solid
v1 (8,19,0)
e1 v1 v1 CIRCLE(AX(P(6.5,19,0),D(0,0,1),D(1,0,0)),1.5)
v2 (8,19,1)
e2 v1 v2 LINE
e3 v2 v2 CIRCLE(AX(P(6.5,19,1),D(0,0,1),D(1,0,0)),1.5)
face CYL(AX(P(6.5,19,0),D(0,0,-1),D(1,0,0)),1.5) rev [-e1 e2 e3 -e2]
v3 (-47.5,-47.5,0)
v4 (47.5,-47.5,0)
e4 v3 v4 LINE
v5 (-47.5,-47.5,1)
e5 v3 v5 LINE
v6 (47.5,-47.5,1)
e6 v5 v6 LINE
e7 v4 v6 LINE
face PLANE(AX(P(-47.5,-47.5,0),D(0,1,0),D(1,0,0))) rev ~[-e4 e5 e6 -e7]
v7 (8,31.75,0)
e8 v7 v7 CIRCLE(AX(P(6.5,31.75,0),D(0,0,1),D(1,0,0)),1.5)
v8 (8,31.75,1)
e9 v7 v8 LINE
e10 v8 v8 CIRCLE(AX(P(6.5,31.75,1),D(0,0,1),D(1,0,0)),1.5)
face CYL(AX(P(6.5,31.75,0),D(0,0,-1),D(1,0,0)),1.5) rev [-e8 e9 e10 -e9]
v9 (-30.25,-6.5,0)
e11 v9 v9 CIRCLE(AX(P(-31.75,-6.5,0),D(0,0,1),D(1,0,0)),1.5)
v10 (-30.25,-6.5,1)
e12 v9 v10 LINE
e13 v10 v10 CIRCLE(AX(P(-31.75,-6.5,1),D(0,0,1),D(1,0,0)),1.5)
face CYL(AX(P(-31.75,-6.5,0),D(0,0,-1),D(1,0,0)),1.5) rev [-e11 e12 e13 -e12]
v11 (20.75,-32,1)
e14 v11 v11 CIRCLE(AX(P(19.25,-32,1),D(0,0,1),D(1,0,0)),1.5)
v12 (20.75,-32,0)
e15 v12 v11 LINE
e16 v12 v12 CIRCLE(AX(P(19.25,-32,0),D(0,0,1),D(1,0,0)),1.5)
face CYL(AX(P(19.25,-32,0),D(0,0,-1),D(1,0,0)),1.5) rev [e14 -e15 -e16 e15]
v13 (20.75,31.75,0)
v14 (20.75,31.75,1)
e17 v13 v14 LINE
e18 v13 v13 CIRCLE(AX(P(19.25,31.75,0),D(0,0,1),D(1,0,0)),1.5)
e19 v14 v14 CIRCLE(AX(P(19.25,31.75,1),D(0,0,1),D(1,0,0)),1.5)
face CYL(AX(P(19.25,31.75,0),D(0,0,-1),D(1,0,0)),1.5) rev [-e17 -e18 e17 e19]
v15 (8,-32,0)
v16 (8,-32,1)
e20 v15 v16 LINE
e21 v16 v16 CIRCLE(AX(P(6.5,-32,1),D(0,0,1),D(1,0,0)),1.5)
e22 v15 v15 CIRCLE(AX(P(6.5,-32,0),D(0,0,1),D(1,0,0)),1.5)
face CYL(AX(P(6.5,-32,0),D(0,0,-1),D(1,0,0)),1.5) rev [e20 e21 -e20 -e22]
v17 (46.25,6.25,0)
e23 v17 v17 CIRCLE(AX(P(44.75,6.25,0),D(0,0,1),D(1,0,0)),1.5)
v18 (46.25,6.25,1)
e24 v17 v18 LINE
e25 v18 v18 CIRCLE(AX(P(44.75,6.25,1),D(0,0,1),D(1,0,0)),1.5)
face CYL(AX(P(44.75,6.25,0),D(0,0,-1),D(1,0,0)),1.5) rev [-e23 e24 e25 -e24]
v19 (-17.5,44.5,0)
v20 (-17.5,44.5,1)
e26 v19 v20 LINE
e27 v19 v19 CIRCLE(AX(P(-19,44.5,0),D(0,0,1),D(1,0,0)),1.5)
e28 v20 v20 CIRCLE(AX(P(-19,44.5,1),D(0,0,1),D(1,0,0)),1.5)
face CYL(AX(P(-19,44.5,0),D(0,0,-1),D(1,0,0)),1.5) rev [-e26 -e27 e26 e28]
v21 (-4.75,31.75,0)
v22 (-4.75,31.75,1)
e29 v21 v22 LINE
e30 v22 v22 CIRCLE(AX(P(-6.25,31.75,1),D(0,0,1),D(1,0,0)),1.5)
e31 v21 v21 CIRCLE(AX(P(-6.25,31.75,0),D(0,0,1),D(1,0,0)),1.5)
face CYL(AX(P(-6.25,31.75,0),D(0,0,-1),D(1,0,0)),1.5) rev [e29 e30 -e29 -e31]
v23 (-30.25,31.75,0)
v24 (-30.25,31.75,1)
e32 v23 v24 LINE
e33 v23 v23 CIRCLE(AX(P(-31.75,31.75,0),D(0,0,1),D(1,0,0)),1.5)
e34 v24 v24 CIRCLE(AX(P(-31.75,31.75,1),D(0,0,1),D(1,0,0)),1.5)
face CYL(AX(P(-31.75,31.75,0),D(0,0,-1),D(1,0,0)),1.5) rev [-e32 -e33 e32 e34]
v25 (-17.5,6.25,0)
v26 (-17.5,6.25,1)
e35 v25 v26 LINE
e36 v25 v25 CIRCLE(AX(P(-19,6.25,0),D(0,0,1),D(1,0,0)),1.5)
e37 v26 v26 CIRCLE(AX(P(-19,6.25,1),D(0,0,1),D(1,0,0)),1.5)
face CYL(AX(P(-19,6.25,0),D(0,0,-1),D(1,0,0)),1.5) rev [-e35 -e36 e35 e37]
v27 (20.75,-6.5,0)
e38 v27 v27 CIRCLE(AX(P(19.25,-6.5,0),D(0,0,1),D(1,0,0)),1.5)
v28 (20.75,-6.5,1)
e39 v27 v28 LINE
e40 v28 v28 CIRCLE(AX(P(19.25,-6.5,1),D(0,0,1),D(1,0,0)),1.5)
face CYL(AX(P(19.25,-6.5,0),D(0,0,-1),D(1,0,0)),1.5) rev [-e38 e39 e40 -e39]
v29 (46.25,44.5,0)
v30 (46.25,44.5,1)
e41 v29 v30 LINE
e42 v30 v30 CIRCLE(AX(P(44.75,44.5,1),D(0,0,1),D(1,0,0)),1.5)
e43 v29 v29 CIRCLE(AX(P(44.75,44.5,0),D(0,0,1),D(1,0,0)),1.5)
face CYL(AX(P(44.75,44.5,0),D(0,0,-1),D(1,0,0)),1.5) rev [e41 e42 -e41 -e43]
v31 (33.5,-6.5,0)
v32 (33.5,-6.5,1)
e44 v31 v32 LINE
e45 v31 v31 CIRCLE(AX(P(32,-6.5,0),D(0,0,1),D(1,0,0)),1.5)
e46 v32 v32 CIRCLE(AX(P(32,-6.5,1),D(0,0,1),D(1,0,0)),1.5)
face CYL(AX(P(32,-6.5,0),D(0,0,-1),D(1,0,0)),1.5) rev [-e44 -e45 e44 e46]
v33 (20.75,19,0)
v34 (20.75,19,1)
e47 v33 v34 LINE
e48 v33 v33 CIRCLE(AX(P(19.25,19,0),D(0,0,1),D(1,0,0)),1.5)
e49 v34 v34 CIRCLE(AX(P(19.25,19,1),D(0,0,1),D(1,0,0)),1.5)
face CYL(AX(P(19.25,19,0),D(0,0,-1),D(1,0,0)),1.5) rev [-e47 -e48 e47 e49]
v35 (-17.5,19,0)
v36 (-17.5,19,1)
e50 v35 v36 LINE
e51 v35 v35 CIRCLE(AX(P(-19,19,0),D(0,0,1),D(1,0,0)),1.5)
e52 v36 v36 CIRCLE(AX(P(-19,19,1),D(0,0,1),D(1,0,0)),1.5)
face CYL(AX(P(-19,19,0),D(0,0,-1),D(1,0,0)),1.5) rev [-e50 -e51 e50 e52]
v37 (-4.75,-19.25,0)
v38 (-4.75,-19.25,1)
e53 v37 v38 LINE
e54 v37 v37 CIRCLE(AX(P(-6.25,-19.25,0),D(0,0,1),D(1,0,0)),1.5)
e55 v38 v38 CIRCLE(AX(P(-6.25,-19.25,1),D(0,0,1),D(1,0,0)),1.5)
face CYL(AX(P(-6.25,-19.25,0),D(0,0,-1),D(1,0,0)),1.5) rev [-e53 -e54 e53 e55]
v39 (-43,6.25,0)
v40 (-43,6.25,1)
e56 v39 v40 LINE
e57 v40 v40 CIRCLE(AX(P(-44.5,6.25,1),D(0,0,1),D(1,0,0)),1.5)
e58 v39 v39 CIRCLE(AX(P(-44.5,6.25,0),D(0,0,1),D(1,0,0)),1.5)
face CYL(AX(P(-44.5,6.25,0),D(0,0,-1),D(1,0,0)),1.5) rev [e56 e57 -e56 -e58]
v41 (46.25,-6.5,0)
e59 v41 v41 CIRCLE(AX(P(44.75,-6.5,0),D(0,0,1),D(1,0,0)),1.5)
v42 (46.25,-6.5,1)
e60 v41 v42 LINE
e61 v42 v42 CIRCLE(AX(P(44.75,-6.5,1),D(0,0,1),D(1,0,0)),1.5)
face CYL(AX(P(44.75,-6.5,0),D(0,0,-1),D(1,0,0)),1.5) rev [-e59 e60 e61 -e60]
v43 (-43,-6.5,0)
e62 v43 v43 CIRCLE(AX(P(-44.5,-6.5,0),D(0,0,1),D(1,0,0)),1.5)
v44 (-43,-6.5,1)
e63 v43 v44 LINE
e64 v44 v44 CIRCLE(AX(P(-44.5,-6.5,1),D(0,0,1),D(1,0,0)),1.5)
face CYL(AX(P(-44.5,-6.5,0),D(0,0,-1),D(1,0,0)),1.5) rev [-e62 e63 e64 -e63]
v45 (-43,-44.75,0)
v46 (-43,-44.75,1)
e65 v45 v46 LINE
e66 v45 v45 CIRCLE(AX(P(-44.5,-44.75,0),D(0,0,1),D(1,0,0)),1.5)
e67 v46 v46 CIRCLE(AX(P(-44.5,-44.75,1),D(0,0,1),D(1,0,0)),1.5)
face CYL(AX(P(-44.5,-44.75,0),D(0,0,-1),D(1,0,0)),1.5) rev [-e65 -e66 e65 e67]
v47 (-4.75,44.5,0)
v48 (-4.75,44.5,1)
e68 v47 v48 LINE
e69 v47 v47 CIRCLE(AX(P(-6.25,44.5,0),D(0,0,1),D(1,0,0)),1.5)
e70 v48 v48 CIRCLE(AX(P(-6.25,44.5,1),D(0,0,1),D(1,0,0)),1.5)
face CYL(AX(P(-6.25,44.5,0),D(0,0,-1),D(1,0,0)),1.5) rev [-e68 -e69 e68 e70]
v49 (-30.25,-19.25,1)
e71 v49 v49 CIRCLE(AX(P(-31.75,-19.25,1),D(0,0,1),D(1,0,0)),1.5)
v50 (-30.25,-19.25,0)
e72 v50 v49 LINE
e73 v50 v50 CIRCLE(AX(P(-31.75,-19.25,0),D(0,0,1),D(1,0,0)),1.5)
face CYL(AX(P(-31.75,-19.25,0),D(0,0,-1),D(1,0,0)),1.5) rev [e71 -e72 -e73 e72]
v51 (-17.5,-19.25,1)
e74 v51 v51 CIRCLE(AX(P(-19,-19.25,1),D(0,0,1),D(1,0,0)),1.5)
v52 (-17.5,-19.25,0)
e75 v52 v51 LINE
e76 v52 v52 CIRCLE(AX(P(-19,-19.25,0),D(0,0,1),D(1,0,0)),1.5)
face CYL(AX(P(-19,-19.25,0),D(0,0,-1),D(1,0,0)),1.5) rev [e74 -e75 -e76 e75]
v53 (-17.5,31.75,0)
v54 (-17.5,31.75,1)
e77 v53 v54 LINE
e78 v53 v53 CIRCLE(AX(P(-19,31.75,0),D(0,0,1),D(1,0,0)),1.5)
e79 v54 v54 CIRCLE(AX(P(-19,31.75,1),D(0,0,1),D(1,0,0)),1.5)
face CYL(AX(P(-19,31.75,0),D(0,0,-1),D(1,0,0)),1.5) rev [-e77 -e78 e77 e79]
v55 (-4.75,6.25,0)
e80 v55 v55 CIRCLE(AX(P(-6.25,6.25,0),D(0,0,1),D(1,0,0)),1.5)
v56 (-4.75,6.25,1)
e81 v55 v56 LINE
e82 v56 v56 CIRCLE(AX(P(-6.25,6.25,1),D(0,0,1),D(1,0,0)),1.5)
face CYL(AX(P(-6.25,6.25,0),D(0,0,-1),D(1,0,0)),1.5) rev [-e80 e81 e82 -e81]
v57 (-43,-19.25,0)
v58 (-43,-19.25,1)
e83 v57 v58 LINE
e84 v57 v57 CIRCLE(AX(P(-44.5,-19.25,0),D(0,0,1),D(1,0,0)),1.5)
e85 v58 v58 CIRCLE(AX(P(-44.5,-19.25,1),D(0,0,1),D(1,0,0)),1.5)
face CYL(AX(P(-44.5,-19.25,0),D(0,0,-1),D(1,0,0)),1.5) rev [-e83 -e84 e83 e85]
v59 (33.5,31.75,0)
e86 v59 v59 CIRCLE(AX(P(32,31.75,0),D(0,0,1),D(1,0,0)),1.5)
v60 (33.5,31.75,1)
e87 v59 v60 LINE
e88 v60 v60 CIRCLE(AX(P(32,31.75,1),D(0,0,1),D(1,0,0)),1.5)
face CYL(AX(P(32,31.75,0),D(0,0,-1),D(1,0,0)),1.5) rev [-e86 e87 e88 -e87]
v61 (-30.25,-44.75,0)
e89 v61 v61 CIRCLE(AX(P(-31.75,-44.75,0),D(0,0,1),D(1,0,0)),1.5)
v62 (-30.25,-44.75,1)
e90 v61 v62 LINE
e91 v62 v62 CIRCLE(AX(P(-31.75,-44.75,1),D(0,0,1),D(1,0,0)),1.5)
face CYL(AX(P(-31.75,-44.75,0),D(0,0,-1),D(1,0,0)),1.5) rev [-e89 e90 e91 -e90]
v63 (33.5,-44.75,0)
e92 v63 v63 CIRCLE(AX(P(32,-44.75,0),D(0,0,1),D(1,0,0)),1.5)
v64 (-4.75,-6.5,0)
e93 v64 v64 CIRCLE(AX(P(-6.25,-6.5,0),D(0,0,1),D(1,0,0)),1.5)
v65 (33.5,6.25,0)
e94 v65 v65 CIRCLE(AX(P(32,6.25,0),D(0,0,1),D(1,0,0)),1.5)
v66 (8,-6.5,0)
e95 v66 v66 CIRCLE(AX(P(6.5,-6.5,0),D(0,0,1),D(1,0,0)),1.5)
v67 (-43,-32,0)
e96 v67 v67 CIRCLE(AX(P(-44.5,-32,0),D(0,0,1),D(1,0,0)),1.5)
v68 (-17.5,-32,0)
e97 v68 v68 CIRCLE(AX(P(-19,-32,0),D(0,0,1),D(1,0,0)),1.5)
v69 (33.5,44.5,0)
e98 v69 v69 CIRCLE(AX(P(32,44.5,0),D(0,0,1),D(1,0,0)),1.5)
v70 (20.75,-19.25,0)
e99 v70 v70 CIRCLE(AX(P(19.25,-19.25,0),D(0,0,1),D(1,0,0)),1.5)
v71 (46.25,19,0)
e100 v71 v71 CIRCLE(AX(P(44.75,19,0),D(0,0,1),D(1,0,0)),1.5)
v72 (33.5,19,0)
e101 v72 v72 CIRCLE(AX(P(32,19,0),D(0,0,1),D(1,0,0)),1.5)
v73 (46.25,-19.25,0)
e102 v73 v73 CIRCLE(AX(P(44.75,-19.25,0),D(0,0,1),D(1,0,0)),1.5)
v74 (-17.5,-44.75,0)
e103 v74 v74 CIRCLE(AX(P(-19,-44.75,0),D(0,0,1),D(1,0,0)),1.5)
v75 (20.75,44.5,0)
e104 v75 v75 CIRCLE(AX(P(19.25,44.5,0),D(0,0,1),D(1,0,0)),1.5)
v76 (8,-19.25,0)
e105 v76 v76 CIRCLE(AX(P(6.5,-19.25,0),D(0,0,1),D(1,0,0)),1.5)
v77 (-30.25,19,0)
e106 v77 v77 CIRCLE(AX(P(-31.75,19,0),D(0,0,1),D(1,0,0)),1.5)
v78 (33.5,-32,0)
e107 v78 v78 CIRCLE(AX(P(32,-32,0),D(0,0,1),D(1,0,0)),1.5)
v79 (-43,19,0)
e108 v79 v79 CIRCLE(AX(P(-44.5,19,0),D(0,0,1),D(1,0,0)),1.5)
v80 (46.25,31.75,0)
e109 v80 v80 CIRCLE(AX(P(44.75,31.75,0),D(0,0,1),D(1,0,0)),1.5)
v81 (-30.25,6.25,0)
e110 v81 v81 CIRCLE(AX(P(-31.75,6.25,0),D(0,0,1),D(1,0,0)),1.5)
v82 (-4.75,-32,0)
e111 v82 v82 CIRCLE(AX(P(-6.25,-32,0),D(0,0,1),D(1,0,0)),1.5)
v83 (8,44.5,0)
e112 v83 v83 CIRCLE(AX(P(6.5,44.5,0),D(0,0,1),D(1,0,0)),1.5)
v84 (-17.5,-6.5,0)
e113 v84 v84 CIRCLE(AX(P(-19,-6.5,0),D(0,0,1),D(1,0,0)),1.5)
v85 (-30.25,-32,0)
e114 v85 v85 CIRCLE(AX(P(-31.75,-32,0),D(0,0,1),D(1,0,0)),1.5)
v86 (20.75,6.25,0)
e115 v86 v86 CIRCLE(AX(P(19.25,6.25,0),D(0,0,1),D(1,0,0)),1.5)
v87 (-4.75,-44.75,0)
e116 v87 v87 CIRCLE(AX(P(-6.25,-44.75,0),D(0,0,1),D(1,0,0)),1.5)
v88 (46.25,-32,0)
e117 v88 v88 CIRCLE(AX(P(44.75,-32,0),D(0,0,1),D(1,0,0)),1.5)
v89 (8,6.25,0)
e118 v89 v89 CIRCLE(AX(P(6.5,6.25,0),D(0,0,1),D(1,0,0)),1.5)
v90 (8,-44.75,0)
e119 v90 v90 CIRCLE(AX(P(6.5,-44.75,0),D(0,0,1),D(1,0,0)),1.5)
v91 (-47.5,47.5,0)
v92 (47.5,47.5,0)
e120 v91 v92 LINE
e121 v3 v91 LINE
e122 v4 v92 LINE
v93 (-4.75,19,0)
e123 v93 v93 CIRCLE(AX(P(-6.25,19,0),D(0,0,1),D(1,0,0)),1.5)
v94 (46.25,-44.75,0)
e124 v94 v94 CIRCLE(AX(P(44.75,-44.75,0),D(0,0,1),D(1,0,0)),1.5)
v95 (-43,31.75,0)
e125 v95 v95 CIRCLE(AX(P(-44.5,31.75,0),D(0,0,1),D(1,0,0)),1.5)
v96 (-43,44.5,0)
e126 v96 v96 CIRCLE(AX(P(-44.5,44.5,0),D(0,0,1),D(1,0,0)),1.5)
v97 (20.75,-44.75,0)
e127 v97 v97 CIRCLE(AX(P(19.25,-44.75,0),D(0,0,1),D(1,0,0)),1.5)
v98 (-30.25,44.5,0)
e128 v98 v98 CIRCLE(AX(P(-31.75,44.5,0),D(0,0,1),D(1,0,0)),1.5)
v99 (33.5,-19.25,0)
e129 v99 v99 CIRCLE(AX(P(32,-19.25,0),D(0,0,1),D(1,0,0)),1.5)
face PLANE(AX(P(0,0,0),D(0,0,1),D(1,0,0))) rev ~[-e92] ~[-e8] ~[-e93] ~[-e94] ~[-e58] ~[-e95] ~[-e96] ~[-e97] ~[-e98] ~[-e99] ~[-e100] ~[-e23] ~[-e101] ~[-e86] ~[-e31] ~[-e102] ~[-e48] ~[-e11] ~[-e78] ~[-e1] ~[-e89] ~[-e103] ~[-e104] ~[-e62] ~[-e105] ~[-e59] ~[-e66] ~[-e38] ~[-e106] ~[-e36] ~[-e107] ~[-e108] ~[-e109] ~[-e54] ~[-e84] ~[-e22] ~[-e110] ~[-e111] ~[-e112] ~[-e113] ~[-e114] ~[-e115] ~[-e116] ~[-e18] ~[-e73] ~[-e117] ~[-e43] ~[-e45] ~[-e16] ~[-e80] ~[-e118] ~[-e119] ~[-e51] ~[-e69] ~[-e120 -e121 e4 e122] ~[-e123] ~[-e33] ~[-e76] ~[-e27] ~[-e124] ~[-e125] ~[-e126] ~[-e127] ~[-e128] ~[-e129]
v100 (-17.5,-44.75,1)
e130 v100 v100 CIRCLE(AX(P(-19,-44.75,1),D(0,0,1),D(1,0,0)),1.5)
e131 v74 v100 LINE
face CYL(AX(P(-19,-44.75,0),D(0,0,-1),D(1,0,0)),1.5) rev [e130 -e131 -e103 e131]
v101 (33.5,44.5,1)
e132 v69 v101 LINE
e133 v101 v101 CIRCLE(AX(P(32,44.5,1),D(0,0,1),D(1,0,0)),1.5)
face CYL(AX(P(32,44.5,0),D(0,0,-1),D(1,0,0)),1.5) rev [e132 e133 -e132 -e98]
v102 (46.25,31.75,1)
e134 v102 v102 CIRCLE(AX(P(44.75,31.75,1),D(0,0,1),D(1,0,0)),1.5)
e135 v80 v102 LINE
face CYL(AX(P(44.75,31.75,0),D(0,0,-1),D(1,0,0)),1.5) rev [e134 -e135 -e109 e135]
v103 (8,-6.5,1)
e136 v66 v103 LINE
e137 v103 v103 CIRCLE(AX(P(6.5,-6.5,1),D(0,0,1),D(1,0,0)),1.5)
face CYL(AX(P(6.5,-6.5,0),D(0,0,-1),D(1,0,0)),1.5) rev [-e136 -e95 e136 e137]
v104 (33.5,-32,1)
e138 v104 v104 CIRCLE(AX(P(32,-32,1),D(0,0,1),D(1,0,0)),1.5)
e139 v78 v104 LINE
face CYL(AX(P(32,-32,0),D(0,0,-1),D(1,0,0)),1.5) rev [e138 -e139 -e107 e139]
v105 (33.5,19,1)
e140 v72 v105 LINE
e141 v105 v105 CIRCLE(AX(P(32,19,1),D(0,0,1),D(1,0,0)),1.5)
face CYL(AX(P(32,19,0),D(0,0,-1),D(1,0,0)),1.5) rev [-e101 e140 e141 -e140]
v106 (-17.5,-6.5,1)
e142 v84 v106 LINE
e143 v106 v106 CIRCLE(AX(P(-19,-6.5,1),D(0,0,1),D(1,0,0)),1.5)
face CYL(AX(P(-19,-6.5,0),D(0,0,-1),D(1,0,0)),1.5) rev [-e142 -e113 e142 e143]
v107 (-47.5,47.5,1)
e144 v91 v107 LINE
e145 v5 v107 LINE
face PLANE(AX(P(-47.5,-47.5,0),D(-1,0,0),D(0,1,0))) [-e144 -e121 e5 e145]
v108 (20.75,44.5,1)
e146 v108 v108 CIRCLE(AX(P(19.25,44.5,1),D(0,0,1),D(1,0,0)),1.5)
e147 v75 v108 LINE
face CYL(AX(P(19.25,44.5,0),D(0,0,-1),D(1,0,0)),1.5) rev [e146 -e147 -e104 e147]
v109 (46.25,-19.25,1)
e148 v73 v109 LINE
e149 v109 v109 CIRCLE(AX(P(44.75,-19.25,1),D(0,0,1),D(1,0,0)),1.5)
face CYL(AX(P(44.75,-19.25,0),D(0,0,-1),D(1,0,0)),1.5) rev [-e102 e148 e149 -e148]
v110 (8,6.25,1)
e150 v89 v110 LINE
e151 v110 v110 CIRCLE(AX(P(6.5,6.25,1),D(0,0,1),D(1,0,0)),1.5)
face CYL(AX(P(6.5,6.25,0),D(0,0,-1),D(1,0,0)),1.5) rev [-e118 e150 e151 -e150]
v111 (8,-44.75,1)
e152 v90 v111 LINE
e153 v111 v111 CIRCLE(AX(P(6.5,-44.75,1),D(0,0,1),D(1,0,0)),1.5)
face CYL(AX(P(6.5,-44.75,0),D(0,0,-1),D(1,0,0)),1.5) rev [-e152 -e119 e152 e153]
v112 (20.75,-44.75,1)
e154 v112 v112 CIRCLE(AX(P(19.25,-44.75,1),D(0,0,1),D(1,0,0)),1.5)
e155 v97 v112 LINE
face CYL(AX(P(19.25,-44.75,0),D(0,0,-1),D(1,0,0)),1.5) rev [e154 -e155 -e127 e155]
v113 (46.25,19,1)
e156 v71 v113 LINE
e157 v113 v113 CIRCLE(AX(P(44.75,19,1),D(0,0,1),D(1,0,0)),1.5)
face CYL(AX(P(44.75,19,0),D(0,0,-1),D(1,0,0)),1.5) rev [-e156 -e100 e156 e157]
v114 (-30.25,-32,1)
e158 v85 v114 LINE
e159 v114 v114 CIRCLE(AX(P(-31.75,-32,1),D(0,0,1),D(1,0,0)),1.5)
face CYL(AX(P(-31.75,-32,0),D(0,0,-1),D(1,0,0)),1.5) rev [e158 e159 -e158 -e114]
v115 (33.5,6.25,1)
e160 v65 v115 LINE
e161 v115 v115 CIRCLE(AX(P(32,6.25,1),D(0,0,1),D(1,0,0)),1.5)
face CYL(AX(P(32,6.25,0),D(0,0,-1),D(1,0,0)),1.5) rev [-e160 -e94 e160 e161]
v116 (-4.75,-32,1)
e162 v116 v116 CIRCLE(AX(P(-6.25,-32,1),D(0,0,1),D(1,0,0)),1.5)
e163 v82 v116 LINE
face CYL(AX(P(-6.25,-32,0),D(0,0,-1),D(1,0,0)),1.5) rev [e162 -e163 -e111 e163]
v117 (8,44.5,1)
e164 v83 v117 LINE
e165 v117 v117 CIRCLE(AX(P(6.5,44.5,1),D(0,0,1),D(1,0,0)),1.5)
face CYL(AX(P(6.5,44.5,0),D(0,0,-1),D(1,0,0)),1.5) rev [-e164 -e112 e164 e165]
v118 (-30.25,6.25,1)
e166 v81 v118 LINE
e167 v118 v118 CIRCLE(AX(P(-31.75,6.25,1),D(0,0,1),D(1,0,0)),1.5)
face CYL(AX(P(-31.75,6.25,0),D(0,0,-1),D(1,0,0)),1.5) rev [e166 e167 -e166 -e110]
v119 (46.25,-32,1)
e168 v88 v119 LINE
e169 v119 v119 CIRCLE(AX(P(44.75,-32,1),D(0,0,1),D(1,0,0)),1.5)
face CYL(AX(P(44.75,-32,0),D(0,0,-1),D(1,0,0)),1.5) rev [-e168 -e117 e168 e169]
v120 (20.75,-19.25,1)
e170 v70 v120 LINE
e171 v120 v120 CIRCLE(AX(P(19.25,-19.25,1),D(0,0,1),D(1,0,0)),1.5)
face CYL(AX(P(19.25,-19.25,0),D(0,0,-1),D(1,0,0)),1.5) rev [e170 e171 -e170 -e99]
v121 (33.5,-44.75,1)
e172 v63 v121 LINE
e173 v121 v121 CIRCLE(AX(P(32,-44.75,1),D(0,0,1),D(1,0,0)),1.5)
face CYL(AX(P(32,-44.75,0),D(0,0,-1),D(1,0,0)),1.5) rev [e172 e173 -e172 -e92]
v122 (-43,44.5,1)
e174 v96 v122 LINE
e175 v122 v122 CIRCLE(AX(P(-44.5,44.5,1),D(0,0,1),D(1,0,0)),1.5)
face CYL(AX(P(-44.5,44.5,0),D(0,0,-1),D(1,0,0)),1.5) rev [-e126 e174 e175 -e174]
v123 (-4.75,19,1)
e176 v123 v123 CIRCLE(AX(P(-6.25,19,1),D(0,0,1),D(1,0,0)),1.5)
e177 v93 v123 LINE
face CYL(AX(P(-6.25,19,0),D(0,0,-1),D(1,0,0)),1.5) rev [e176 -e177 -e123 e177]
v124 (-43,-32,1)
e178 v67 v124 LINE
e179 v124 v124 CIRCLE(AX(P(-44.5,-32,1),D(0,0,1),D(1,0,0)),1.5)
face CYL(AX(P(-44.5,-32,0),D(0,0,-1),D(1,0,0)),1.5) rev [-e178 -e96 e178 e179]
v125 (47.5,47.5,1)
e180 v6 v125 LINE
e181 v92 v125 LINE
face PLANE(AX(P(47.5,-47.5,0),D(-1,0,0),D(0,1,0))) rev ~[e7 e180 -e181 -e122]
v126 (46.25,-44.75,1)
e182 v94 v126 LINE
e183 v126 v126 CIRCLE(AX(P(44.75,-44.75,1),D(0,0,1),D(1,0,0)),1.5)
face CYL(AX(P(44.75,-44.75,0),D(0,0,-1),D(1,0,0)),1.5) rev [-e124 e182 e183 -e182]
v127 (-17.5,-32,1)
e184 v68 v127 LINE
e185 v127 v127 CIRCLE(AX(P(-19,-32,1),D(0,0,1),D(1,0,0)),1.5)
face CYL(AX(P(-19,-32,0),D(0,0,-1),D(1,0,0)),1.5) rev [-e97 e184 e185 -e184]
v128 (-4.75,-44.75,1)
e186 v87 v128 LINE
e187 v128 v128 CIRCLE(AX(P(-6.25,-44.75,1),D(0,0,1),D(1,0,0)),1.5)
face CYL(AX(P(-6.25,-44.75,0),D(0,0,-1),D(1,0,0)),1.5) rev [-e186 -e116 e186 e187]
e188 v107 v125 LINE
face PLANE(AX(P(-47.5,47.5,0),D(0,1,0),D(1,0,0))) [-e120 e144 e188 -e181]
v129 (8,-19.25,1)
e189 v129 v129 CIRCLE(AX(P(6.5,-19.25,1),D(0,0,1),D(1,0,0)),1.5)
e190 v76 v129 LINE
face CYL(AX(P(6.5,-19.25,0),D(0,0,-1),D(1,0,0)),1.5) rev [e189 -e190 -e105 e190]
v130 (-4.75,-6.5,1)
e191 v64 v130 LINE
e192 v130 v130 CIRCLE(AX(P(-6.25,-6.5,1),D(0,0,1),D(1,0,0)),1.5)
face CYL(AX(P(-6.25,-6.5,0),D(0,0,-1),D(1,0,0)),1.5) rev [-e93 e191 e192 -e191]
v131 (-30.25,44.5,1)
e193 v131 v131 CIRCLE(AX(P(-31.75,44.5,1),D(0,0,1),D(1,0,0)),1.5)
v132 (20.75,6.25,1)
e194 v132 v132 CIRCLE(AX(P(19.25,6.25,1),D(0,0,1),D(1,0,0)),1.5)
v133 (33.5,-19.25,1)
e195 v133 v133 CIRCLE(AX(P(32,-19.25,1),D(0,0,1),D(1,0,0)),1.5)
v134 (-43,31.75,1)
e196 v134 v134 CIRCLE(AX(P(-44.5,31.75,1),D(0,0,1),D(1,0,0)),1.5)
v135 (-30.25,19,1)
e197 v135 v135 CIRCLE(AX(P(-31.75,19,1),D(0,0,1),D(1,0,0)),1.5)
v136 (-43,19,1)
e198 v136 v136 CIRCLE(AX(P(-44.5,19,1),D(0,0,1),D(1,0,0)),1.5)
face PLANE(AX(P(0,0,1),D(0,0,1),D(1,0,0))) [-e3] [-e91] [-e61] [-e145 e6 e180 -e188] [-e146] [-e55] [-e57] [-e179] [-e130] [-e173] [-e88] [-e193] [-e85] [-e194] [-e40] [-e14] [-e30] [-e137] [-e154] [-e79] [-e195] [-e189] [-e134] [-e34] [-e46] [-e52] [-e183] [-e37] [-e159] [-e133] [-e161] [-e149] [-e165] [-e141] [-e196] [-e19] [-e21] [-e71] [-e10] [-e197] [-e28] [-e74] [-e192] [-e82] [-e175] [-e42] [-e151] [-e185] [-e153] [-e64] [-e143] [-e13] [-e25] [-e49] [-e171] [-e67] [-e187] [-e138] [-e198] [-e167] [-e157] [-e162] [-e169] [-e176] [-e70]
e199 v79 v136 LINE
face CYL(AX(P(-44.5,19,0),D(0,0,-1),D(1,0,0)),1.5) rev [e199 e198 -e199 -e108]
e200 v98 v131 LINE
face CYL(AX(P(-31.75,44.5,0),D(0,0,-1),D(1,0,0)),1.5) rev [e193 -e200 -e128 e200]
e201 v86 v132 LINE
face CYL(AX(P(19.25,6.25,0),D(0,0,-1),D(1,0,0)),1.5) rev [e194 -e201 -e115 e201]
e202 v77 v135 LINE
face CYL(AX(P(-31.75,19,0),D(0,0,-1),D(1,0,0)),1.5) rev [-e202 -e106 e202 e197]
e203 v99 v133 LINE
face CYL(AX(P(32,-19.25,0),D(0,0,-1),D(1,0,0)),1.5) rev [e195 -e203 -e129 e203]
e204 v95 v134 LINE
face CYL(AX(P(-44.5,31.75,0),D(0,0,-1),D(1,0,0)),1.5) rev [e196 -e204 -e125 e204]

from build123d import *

# Parameters (mm, degrees)
F0_W     = 95
F0_H     = 95
F0_R     = 1.5
F1_DEPTH = 1


with BuildPart() as f1:
    # F0 (on Top) → F1 (new body)
    with BuildSketch(Plane.XY):
        Rectangle(F0_W, F0_H)
        with Locations((-44.5, -44.75)):
            Circle(F0_R, mode=Mode.SUBTRACT)
        with Locations((-31.75, -44.75)):
            Circle(F0_R, mode=Mode.SUBTRACT)
        with Locations((-44.5, -32)):
            Circle(F0_R, mode=Mode.SUBTRACT)
        with Locations((-31.75, -32)):
            Circle(F0_R, mode=Mode.SUBTRACT)
        with Locations((-19, -44.75)):
            Circle(F0_R, mode=Mode.SUBTRACT)
        with Locations((-6.25, -44.75)):
            Circle(F0_R, mode=Mode.SUBTRACT)
        with Locations((-19, -32)):
            Circle(F0_R, mode=Mode.SUBTRACT)
        with Locations((-6.25, -32)):
            Circle(F0_R, mode=Mode.SUBTRACT)
        with Locations((-44.5, -19.25)):
            Circle(F0_R, mode=Mode.SUBTRACT)
        with Locations((-31.75, -19.25)):
            Circle(F0_R, mode=Mode.SUBTRACT)
        with Locations((-44.5, -6.5)):
            Circle(F0_R, mode=Mode.SUBTRACT)
        with Locations((-31.75, -6.5)):
            Circle(F0_R, mode=Mode.SUBTRACT)
        with Locations((-19, -19.25)):
            Circle(F0_R, mode=Mode.SUBTRACT)
        with Locations((-6.25, -19.25)):
            Circle(F0_R, mode=Mode.SUBTRACT)
        with Locations((-19, -6.5)):
            Circle(F0_R, mode=Mode.SUBTRACT)
        with Locations((-6.25, -6.5)):
            Circle(F0_R, mode=Mode.SUBTRACT)
        with Locations((6.5, -44.75)):
            Circle(F0_R, mode=Mode.SUBTRACT)
        with Locations((19.25, -44.75)):
            Circle(F0_R, mode=Mode.SUBTRACT)
        with Locations((6.5, -32)):
            Circle(F0_R, mode=Mode.SUBTRACT)
        with Locations((19.25, -32)):
            Circle(F0_R, mode=Mode.SUBTRACT)
        with Locations((32, -44.75)):
            Circle(F0_R, mode=Mode.SUBTRACT)
        with Locations((44.75, -44.75)):
            Circle(F0_R, mode=Mode.SUBTRACT)
        with Locations((32, -32)):
            Circle(F0_R, mode=Mode.SUBTRACT)
        with Locations((44.75, -32)):
            Circle(F0_R, mode=Mode.SUBTRACT)
        with Locations((6.5, -19.25)):
            Circle(F0_R, mode=Mode.SUBTRACT)
        with Locations((19.25, -19.25)):
            Circle(F0_R, mode=Mode.SUBTRACT)
        with Locations((6.5, -6.5)):
            Circle(F0_R, mode=Mode.SUBTRACT)
        with Locations((19.25, -6.5)):
            Circle(F0_R, mode=Mode.SUBTRACT)
        with Locations((32, -19.25)):
            Circle(F0_R, mode=Mode.SUBTRACT)
        with Locations((44.75, -19.25)):
            Circle(F0_R, mode=Mode.SUBTRACT)
        with Locations((32, -6.5)):
            Circle(F0_R, mode=Mode.SUBTRACT)
        with Locations((44.75, -6.5)):
            Circle(F0_R, mode=Mode.SUBTRACT)
        with Locations((-44.5, 6.25)):
            Circle(F0_R, mode=Mode.SUBTRACT)
        with Locations((-31.75, 6.25)):
            Circle(F0_R, mode=Mode.SUBTRACT)
        with Locations((-44.5, 19)):
            Circle(F0_R, mode=Mode.SUBTRACT)
        with Locations((-31.75, 19)):
            Circle(F0_R, mode=Mode.SUBTRACT)
        with Locations((-19, 6.25)):
            Circle(F0_R, mode=Mode.SUBTRACT)
        with Locations((-6.25, 6.25)):
            Circle(F0_R, mode=Mode.SUBTRACT)
        with Locations((-19, 19)):
            Circle(F0_R, mode=Mode.SUBTRACT)
        with Locations((-6.25, 19)):
            Circle(F0_R, mode=Mode.SUBTRACT)
        with Locations((-44.5, 31.75)):
            Circle(F0_R, mode=Mode.SUBTRACT)
        with Locations((-31.75, 31.75)):
            Circle(F0_R, mode=Mode.SUBTRACT)
        with Locations((-44.5, 44.5)):
            Circle(F0_R, mode=Mode.SUBTRACT)
        with Locations((-31.75, 44.5)):
            Circle(F0_R, mode=Mode.SUBTRACT)
        with Locations((-19, 31.75)):
            Circle(F0_R, mode=Mode.SUBTRACT)
        with Locations((-6.25, 31.75)):
            Circle(F0_R, mode=Mode.SUBTRACT)
        with Locations((-19, 44.5)):
            Circle(F0_R, mode=Mode.SUBTRACT)
        with Locations((-6.25, 44.5)):
            Circle(F0_R, mode=Mode.SUBTRACT)
        with Locations((6.5, 6.25)):
            Circle(F0_R, mode=Mode.SUBTRACT)
        with Locations((19.25, 6.25)):
            Circle(F0_R, mode=Mode.SUBTRACT)
        with Locations((6.5, 19)):
            Circle(F0_R, mode=Mode.SUBTRACT)
        with Locations((19.25, 19)):
            Circle(F0_R, mode=Mode.SUBTRACT)
        with Locations((32, 6.25)):
            Circle(F0_R, mode=Mode.SUBTRACT)
        with Locations((44.75, 6.25)):
            Circle(F0_R, mode=Mode.SUBTRACT)
        with Locations((32, 19)):
            Circle(F0_R, mode=Mode.SUBTRACT)
        with Locations((44.75, 19)):
            Circle(F0_R, mode=Mode.SUBTRACT)
        with Locations((6.5, 31.75)):
            Circle(F0_R, mode=Mode.SUBTRACT)
        with Locations((19.25, 31.75)):
            Circle(F0_R, mode=Mode.SUBTRACT)
        with Locations((6.5, 44.5)):
            Circle(F0_R, mode=Mode.SUBTRACT)
        with Locations((19.25, 44.5)):
            Circle(F0_R, mode=Mode.SUBTRACT)
        with Locations((32, 31.75)):
            Circle(F0_R, mode=Mode.SUBTRACT)
        with Locations((44.75, 31.75)):
            Circle(F0_R, mode=Mode.SUBTRACT)
        with Locations((32, 44.5)):
            Circle(F0_R, mode=Mode.SUBTRACT)
        with Locations((44.75, 44.5)):
            Circle(F0_R, mode=Mode.SUBTRACT)
    extrude(amount=F1_DEPTH)


solid = f1.part
